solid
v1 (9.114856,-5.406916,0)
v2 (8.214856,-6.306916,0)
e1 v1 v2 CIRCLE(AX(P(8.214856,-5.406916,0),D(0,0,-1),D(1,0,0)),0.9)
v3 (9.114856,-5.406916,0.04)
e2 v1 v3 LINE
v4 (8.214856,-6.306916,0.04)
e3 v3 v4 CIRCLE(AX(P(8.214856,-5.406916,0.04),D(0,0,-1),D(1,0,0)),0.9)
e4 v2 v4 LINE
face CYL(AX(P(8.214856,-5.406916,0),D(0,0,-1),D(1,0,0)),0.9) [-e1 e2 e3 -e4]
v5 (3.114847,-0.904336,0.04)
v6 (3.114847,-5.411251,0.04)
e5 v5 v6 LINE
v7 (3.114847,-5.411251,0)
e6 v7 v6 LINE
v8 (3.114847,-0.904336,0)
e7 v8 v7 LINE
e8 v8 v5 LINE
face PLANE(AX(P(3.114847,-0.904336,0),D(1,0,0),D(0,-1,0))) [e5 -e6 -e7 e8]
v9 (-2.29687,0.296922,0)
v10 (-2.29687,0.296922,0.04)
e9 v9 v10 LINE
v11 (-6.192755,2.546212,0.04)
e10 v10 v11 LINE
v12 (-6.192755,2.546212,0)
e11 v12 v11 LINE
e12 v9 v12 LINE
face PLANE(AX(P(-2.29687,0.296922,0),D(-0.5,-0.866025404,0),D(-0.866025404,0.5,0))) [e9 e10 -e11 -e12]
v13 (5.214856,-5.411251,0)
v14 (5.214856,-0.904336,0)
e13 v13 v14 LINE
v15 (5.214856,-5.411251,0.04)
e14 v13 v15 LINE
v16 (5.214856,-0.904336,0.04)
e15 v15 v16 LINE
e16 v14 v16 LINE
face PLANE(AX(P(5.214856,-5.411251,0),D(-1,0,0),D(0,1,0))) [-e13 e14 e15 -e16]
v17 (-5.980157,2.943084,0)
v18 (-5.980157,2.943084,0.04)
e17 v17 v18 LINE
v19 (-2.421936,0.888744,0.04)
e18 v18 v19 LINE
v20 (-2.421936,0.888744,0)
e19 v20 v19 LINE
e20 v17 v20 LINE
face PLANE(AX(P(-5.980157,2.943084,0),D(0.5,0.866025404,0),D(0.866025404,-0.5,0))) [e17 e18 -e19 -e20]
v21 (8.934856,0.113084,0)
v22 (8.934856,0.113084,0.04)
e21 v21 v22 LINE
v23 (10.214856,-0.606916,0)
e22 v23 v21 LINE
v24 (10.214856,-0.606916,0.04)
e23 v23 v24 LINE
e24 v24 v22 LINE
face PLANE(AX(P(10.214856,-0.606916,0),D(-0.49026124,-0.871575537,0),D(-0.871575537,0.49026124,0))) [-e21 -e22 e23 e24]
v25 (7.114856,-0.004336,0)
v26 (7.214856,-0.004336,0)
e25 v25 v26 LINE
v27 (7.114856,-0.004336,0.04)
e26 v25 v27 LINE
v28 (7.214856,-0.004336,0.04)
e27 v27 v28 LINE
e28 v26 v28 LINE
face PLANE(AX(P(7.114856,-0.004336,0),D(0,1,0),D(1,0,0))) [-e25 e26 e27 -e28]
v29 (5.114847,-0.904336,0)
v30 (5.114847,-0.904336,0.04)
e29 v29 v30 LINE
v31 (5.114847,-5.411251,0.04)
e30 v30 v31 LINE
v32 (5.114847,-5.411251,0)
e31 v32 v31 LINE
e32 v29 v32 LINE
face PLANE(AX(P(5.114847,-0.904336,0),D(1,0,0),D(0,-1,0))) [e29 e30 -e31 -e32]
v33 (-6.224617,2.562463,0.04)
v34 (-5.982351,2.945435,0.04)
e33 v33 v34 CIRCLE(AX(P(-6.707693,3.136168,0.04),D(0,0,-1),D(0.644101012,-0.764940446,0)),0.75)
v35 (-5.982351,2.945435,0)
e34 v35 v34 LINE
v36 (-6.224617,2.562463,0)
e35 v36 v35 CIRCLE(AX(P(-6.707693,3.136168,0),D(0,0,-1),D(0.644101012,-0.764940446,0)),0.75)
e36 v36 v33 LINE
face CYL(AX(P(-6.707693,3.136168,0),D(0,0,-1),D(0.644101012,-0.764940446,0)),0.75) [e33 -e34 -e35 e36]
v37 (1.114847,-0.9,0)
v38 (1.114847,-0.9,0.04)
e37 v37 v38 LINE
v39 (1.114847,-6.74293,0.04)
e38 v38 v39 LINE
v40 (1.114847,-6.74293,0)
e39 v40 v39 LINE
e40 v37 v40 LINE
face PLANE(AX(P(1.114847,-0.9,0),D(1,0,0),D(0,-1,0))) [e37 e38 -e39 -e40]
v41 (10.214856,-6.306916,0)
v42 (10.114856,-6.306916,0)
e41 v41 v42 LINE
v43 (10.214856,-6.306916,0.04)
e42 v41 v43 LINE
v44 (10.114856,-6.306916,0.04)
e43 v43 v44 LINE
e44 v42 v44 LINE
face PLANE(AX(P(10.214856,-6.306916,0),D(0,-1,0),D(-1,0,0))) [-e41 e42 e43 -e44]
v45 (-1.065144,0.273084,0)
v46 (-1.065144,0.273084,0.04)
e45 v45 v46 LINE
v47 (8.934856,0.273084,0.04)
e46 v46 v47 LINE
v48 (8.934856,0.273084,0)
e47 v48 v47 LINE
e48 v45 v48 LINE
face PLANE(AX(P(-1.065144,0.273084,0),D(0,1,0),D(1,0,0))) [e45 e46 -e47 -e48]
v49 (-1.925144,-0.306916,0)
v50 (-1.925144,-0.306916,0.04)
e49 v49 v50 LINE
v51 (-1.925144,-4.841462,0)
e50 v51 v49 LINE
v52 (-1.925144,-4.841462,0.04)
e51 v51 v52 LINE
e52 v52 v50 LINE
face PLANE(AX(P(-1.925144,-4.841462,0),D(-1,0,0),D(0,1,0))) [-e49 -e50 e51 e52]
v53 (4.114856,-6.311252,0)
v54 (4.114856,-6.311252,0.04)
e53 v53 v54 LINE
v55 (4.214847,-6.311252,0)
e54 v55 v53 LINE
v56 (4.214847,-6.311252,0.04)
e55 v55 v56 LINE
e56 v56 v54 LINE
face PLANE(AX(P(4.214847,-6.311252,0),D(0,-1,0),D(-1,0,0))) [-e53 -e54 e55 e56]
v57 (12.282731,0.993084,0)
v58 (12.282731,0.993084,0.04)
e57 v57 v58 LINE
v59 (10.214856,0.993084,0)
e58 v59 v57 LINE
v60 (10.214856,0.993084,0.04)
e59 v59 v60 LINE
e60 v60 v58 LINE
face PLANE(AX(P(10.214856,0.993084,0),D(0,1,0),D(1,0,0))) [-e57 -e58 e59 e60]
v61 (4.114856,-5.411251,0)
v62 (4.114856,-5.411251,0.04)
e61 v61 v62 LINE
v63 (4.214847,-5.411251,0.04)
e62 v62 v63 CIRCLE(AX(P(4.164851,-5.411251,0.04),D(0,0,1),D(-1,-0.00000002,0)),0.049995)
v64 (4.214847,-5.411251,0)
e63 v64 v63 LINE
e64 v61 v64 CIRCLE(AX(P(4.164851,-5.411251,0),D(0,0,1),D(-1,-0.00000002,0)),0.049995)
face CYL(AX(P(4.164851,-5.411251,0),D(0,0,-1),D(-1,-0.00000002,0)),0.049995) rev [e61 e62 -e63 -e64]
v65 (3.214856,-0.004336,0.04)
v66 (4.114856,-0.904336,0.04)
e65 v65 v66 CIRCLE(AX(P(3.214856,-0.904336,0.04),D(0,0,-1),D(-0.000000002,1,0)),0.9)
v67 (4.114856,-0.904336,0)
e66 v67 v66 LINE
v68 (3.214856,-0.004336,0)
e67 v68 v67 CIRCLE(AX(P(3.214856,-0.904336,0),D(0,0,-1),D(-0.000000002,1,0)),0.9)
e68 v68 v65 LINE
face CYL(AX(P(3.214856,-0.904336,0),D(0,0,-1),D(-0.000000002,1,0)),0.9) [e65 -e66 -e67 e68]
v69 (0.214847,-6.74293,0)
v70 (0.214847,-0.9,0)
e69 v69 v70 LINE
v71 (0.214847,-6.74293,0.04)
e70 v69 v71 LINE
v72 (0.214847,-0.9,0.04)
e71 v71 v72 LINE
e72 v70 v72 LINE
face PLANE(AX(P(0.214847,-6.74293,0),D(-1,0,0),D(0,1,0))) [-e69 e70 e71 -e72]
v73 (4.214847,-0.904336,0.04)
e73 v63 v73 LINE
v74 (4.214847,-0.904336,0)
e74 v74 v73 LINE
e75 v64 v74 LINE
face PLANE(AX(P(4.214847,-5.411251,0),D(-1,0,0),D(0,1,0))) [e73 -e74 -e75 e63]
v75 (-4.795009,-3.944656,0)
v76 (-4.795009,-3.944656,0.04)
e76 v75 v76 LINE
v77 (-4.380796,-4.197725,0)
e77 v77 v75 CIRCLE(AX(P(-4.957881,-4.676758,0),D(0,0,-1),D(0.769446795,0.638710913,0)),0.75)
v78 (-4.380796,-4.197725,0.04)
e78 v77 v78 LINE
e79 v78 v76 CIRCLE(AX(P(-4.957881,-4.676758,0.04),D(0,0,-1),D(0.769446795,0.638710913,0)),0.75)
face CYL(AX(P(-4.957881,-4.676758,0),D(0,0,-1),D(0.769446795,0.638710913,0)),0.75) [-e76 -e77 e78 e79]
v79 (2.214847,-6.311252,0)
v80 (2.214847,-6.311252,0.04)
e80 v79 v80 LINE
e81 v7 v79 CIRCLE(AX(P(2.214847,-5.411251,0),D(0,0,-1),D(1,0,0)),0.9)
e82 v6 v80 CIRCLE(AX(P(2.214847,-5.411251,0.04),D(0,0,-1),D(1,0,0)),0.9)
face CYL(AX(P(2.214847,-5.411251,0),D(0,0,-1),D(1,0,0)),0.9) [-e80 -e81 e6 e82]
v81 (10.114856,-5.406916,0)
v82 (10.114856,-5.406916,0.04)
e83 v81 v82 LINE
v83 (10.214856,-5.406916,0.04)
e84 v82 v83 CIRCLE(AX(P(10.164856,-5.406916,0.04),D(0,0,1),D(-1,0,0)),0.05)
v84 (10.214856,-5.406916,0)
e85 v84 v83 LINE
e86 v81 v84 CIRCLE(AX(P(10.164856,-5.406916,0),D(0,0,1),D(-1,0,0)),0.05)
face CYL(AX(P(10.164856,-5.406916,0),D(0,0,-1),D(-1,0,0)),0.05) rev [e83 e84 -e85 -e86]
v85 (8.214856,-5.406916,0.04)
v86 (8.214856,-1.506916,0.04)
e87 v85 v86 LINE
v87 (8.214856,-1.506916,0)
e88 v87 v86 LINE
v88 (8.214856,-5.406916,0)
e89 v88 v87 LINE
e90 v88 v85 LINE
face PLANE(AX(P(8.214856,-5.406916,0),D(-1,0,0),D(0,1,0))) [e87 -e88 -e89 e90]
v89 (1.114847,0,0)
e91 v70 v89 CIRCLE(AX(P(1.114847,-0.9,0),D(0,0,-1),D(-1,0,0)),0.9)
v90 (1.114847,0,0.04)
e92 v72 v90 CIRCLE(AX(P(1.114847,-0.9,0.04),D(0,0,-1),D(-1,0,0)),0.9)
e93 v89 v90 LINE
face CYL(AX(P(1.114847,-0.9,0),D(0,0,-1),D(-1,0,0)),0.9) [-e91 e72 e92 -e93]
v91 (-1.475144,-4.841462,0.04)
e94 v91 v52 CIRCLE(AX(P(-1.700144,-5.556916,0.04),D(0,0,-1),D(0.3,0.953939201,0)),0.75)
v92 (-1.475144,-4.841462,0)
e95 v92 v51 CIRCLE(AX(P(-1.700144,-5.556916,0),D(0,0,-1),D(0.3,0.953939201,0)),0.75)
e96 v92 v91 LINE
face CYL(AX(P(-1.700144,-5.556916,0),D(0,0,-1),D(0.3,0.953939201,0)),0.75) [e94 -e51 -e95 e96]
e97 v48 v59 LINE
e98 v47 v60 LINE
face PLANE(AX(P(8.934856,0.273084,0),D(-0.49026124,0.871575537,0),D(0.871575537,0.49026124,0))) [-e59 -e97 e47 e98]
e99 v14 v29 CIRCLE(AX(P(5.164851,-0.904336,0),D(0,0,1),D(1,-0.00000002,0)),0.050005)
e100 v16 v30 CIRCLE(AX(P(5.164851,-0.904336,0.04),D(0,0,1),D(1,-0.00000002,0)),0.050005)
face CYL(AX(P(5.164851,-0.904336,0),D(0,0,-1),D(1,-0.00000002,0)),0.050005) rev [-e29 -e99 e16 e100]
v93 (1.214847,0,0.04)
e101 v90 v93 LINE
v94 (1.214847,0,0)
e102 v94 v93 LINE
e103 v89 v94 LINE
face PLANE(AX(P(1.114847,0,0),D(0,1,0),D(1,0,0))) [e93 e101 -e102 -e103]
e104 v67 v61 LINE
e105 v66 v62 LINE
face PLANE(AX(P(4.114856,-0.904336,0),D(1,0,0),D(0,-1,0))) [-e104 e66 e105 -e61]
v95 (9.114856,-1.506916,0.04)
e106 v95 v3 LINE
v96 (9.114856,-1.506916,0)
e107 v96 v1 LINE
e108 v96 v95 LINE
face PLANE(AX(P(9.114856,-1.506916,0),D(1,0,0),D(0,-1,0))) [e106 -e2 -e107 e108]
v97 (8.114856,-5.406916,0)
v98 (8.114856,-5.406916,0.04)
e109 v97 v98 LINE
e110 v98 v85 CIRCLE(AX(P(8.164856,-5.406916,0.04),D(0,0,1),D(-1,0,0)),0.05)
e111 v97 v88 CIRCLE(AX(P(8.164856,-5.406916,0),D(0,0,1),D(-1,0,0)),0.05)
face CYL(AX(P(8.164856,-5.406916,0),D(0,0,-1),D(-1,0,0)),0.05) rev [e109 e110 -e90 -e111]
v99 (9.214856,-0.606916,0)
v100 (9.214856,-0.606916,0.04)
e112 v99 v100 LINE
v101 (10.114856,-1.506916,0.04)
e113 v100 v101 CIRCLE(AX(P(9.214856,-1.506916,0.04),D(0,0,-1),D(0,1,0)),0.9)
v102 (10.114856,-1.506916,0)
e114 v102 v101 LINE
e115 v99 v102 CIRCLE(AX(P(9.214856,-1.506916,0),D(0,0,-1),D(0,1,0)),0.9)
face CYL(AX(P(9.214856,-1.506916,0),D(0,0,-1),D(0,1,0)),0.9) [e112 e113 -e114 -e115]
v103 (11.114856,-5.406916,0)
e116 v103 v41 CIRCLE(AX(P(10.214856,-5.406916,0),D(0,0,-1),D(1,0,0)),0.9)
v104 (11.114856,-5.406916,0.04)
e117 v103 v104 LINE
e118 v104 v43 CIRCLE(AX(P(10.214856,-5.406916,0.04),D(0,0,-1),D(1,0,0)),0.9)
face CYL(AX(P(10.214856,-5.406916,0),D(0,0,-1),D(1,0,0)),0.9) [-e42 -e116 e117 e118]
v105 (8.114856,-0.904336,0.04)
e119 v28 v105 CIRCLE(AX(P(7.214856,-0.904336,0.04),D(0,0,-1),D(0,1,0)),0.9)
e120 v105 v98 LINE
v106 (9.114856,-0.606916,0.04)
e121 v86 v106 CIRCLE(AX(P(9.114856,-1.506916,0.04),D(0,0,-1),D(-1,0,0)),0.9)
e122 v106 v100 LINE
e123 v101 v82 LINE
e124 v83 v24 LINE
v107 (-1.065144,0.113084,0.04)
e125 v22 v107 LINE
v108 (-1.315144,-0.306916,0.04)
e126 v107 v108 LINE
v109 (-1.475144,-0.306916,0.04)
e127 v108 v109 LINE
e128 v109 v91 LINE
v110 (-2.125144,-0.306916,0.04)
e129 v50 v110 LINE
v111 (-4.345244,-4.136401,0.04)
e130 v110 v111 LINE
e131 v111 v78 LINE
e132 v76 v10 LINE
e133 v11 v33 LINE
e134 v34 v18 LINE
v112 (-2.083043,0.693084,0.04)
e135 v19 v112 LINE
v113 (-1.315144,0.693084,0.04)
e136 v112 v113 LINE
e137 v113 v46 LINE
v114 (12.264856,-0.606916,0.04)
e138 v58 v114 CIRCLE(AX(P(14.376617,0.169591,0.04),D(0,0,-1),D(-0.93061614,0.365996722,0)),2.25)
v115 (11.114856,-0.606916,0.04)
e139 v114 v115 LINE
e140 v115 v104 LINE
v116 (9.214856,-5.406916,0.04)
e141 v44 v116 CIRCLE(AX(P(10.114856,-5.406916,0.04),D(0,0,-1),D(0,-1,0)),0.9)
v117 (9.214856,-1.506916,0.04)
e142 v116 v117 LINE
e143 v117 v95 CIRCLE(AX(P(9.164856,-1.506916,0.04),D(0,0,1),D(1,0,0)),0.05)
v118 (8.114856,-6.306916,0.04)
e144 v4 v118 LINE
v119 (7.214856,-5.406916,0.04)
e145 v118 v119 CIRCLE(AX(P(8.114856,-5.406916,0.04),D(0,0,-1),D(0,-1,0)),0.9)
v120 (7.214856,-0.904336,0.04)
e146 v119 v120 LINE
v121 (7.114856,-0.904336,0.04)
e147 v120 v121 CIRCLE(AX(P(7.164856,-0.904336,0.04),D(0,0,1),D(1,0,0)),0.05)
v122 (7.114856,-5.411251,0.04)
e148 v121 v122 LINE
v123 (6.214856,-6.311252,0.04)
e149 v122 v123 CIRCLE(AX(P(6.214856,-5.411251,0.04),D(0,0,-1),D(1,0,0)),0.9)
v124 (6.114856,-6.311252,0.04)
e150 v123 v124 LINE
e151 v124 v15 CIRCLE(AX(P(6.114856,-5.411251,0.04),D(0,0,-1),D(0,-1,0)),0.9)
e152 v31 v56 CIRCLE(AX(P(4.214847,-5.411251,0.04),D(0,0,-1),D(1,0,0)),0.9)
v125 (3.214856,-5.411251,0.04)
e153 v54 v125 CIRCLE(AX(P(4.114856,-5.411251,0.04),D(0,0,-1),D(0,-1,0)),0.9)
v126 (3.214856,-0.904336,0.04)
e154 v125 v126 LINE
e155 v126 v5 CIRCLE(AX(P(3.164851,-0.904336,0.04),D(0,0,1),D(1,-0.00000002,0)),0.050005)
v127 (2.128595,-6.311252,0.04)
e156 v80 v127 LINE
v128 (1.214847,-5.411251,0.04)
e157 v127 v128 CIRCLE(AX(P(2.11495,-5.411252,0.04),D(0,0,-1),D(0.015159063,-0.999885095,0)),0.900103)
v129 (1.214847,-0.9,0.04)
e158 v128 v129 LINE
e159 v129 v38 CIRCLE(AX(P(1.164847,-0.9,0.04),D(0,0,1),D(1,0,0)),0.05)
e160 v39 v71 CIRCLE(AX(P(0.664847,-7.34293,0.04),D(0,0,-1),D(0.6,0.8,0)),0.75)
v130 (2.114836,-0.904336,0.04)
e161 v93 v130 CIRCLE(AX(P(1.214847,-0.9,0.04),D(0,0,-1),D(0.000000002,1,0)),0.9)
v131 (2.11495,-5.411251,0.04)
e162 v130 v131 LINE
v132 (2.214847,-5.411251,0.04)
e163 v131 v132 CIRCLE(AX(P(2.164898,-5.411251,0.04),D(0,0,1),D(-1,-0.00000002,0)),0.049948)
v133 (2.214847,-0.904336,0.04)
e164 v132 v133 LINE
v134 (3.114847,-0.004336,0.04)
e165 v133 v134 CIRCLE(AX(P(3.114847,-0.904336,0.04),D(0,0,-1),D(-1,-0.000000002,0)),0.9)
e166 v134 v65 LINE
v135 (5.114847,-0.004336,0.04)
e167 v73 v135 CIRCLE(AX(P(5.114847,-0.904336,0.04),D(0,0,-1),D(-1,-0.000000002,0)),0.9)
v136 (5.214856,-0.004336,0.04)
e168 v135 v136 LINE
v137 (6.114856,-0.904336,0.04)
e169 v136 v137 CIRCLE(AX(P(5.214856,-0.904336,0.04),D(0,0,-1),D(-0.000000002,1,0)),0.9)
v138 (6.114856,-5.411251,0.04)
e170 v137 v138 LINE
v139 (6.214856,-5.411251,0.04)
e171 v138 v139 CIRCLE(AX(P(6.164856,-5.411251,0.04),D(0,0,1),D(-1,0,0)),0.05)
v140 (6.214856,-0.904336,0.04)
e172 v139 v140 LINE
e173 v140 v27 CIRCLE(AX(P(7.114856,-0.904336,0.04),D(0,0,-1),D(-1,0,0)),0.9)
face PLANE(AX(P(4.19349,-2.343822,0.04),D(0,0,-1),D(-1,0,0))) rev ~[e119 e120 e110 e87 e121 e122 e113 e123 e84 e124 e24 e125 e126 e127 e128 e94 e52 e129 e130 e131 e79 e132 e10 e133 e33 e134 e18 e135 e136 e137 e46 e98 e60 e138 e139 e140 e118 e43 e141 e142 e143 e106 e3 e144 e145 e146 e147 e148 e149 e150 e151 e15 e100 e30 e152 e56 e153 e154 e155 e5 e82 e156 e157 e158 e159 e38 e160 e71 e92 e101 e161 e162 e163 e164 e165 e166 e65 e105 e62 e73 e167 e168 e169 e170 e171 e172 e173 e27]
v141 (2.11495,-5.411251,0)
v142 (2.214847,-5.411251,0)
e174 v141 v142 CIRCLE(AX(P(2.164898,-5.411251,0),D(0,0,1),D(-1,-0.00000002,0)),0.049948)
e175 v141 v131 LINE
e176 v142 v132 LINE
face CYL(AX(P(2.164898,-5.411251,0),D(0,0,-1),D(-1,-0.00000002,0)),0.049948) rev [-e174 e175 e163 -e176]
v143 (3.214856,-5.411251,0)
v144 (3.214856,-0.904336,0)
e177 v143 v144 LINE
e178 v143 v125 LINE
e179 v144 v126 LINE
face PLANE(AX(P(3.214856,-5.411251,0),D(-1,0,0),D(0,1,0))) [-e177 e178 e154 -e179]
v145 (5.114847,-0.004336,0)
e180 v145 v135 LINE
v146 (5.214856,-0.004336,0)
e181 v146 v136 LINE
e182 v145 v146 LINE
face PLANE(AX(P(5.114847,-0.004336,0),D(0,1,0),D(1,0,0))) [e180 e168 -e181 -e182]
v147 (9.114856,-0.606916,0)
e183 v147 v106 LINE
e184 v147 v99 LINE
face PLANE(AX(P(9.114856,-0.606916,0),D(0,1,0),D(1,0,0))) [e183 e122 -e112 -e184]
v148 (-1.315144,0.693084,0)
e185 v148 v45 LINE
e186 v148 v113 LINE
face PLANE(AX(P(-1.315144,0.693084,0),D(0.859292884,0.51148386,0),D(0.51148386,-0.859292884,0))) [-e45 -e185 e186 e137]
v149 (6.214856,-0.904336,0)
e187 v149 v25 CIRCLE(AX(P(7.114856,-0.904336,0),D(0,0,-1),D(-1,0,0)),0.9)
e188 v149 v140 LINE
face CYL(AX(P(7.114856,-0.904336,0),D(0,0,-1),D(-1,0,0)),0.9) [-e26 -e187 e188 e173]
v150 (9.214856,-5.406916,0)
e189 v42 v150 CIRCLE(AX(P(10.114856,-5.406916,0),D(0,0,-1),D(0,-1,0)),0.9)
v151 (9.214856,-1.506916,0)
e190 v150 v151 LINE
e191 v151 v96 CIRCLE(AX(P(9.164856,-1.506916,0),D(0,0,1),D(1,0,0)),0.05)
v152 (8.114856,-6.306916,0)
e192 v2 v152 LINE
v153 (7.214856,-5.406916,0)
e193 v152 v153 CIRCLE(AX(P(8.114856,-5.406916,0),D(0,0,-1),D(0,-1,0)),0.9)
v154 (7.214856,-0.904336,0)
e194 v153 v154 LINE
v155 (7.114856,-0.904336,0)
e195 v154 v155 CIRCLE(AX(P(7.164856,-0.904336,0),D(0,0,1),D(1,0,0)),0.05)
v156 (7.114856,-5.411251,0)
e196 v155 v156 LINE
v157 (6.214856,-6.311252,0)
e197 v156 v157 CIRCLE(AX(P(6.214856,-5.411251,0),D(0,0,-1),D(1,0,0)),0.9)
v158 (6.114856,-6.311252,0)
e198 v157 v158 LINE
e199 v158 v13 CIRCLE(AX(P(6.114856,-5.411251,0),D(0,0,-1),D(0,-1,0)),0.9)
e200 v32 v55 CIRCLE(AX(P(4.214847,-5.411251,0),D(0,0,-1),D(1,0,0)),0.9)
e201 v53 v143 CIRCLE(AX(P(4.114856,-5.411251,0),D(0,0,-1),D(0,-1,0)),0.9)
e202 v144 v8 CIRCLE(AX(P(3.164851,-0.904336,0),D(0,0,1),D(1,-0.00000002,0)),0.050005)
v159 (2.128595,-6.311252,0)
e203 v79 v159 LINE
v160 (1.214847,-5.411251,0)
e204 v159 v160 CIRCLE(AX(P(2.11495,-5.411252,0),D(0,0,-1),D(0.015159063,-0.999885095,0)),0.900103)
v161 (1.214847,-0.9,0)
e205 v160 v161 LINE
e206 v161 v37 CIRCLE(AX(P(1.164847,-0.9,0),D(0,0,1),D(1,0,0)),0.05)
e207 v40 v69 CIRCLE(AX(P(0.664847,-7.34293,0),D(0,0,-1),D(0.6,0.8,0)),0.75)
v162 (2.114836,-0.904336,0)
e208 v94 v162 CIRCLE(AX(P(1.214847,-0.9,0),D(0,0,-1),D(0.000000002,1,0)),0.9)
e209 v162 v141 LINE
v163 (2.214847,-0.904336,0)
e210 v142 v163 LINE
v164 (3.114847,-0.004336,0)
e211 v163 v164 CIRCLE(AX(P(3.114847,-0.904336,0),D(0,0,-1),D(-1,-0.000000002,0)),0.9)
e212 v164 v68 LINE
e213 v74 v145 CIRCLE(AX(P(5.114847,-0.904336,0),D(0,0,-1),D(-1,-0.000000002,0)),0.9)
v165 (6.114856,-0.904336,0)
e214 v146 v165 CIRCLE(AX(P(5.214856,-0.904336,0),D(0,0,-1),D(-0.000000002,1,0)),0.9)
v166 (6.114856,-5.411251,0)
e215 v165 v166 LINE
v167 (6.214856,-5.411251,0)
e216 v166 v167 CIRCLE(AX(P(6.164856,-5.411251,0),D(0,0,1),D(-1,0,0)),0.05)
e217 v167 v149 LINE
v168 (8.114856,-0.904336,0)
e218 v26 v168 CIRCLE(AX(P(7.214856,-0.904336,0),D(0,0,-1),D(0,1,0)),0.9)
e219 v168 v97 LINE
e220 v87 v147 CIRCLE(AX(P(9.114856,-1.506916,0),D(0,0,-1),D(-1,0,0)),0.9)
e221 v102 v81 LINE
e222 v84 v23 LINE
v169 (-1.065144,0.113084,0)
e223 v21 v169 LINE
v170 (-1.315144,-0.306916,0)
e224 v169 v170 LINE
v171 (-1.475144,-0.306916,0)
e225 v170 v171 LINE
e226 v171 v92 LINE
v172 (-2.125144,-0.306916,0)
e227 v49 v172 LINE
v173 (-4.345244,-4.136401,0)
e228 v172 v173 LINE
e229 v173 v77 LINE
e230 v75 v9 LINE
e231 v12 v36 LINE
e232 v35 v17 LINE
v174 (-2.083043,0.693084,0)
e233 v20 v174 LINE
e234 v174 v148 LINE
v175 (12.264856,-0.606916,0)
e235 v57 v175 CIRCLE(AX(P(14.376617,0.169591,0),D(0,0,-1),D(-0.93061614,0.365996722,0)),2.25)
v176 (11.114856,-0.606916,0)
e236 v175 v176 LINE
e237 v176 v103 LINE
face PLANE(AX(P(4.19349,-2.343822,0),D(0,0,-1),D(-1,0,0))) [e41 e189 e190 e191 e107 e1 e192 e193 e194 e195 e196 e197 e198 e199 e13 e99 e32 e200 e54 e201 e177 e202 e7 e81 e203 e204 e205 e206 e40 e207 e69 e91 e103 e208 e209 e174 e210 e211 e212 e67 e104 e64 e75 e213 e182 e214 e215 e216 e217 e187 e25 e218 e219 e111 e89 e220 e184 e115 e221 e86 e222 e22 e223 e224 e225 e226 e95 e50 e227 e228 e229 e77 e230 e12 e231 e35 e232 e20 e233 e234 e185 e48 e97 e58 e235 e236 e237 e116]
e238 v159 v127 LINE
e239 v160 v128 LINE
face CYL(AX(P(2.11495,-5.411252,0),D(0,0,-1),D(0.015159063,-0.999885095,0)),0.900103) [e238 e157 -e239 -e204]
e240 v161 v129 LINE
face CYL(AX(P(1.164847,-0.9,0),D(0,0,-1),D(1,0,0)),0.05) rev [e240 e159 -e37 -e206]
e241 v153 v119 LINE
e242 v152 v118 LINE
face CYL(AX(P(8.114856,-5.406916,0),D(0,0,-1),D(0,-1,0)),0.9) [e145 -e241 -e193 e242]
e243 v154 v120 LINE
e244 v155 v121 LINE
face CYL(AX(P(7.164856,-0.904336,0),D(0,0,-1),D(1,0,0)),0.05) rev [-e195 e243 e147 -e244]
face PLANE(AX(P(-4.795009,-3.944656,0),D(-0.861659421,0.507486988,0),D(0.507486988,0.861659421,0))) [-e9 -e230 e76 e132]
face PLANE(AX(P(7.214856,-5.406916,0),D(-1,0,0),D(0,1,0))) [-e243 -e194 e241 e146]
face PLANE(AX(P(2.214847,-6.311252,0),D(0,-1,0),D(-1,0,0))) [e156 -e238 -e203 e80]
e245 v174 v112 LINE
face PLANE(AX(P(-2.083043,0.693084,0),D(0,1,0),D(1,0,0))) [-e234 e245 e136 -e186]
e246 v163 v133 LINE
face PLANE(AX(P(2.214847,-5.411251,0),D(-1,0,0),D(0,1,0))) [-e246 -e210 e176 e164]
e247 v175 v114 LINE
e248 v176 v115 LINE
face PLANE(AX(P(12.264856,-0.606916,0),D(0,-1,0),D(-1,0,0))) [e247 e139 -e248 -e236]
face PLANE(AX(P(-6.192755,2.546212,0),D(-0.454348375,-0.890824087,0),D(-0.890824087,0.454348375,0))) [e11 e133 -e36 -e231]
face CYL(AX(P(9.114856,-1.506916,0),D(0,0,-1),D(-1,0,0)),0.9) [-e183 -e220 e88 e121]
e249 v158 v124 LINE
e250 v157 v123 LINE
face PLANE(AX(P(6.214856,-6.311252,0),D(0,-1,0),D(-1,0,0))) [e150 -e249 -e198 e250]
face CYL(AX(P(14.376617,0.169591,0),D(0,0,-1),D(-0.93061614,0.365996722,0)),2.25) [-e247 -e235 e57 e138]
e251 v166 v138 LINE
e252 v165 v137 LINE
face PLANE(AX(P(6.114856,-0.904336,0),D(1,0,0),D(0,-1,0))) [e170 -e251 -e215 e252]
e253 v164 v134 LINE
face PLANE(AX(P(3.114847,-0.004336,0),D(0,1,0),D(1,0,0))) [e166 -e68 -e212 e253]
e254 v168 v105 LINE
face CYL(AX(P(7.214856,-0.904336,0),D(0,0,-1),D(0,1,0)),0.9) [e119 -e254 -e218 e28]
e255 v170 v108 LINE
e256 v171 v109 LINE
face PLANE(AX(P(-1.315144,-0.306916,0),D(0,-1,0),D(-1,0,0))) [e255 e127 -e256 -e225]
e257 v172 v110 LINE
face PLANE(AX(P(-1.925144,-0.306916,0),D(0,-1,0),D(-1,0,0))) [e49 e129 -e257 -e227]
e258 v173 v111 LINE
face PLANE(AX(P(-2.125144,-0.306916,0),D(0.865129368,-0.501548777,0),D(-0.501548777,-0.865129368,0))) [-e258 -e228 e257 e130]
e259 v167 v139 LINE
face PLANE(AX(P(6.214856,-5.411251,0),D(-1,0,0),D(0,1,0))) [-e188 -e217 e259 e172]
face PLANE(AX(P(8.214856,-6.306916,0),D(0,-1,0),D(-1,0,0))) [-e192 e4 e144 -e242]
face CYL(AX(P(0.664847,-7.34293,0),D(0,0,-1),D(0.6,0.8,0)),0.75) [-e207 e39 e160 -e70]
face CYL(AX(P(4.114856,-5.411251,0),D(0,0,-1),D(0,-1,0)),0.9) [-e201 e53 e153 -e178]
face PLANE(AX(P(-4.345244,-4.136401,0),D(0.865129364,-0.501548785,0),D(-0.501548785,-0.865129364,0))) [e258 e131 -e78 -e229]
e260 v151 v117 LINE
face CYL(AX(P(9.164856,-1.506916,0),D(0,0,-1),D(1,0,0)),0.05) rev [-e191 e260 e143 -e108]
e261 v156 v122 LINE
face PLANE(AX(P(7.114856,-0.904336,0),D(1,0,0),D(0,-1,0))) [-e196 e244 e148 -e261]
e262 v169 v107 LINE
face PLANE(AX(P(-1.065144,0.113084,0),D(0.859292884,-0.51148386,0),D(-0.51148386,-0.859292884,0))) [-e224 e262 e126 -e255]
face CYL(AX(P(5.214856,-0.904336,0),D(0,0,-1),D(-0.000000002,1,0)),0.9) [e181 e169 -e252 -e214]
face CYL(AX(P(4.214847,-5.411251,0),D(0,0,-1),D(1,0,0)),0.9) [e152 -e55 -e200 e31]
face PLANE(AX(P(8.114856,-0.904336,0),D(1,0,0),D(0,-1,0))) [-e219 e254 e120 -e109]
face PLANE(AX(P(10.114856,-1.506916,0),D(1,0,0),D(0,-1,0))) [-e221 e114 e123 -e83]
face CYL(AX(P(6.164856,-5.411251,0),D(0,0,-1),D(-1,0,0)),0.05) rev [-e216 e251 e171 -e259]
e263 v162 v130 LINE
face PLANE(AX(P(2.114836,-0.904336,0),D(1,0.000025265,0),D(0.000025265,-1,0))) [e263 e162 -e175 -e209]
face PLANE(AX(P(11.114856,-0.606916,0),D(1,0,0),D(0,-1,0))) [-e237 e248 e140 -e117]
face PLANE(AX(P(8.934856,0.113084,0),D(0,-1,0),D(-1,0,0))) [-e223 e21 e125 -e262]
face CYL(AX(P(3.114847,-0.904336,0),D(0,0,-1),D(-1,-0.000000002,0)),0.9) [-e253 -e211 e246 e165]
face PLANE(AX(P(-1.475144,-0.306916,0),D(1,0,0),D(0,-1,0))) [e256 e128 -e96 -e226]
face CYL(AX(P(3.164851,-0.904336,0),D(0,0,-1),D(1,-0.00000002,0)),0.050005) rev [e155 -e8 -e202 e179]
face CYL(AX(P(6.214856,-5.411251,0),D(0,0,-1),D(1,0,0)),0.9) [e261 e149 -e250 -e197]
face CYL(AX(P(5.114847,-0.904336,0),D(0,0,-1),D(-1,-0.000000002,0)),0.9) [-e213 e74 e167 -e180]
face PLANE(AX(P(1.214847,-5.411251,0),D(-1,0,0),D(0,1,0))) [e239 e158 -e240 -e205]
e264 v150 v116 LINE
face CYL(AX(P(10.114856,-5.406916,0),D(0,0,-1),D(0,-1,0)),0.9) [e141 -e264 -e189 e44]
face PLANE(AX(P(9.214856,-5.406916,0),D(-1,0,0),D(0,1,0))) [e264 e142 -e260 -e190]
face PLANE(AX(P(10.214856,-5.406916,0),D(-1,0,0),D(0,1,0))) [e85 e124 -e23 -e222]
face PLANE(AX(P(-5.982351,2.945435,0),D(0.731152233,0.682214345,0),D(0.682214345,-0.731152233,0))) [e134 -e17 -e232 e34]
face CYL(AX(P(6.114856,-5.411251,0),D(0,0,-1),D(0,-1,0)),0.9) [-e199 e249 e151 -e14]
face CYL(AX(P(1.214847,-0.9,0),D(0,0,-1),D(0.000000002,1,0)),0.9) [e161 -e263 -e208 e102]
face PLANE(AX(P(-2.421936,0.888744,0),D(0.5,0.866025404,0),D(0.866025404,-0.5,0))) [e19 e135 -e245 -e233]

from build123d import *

# Parameters (mm, degrees)
BOSS_EXTRUDE1_DEPTH = 0.04


with BuildPart() as part:
    # Sketch1 → Boss-Extrude1 (new body)
    with BuildSketch(Plane.XY):
        with BuildLine():
            Line((-1.315144017, 0.693084069), (-1.065144017, 0.273084069))
            Line((-1.065144017, 0.273084069), (8.934855983, 0.273084069))
            Line((8.934855983, 0.273084069), (10.214855983, 0.993084069))
            Line((10.214855983, 0.993084069), (10.514506575, 0.993084069))
            Line((10.514506575, 0.993084069), (10.935378928, 0.993084069))
            Line((10.935378928, 0.993084069), (12.282731088, 0.993084069))
            ThreePointArc((12.282731088, 0.993084069), (16.626477002, 0.144456147), (12.264855983, -0.606915931))
            Line((12.264855983, -0.606915931), (11.114855983, -0.606915931))
            Line((11.114855983, -0.606915931), (11.114855983, -5.406915931))
            ThreePointArc((11.114855983, -5.406915931), (10.851252086, -6.043312034), (10.214855983, -6.306915931))
            Line((10.214855983, -6.306915931), (10.114855983, -6.306915931))
            ThreePointArc((10.114855983, -6.306915931), (9.47845988, -6.043312034), (9.214855983, -5.406915931))
            Line((9.214855983, -5.406915931), (9.214855983, -1.506915931))
            ThreePointArc((9.214855983, -1.506915931), (9.164855983, -1.456915931), (9.114855983, -1.506915931))
            Line((9.114855983, -1.506915931), (9.114855983, -5.406915931))
            ThreePointArc((9.114855983, -5.406915931), (8.851252086, -6.043312034), (8.214855983, -6.306915931))
            Line((8.214855983, -6.306915931), (8.114855983, -6.306915931))
            ThreePointArc((8.114855983, -6.306915931), (7.47845988, -6.043312034), (7.214855983, -5.406915931))
            Line((7.214855983, -5.406915931), (7.214855983, -0.904335528))
            ThreePointArc((7.214855983, -0.904335528), (7.164855983, -0.854335528), (7.114855983, -0.904335528))
            Line((7.114855983, -0.904335528), (7.114855983, -5.4112515))
            ThreePointArc((7.114855983, -5.4112515), (6.851252086, -6.047647603), (6.214855983, -6.3112515))
            Line((6.214855983, -6.3112515), (6.114855983, -6.3112515))
            ThreePointArc((6.114855983, -6.3112515), (5.47845988, -6.047647603), (5.214855983, -5.4112515))
            Line((5.214855983, -5.4112515), (5.214855983, -0.90433553))
            ThreePointArc((5.214855983, -0.90433553), (5.164851284, -0.85433083), (5.114846585, -0.90433553))
            Line((5.114846585, -0.90433553), (5.114846585, -5.4112515))
            ThreePointArc((5.114846585, -5.4112515), (4.851242688, -6.047647603), (4.214846585, -6.3112515))
            Line((4.214846585, -6.3112515), (4.114855983, -6.3112515))
            ThreePointArc((4.114855983, -6.3112515), (3.47845988, -6.047647603), (3.214855983, -5.4112515))
            Line((3.214855983, -5.4112515), (3.214855983, -0.90433553))
            ThreePointArc((3.214855983, -0.90433553), (3.164851284, -0.85433083), (3.114846585, -0.90433553))
            Line((3.114846585, -0.90433553), (3.114846585, -5.4112515))
            ThreePointArc((3.114846585, -5.4112515), (2.851242688, -6.047647603), (2.214846585, -6.3112515))
            Line((2.214846585, -6.3112515), (2.128594735, -6.3112515))
            ThreePointArc((2.128594735, -6.3112515), (1.483323335, -6.05252673), (1.214846585, -5.4112515))
            Line((1.214846585, -5.4112515), (1.214846585, -0.9))
            ThreePointArc((1.214846585, -0.9), (1.164846585, -0.85), (1.114846585, -0.9))
            Line((1.114846585, -0.9), (1.114846585, -6.592929893))
            Line((1.114846585, -6.592929893), (1.114846585, -6.742929893))
            ThreePointArc((1.114846585, -6.742929893), (0.664846585, -8.092929893), (0.214846585, -6.742929893))
            Line((0.214846585, -6.742929893), (0.214846585, -6.592929893))
            Line((0.214846585, -6.592929893), (0.214846585, -0.9))
            ThreePointArc((0.214846585, -0.9), (0.478450482, -0.263603897), (1.114846585, 0))
            Line((1.114846585, 0), (1.214846585, 0))
            ThreePointArc((1.214846585, 0), (1.852773687, -0.265138589), (2.114836142, -0.90433553))
            Line((2.114836142, -0.90433553), (2.114950011, -5.4112515))
            ThreePointArc((2.114950011, -5.4112515), (2.164898298, -5.461199786), (2.214846585, -5.4112515))
            Line((2.214846585, -5.4112515), (2.214846585, -0.90433553))
            ThreePointArc((2.214846585, -0.90433553), (2.478450482, -0.267939426), (3.114846585, -0.00433553))
            Line((3.114846585, -0.00433553), (3.214855983, -0.00433553))
            ThreePointArc((3.214855983, -0.00433553), (3.851252086, -0.267939426), (4.114855983, -0.90433553))
            Line((4.114855983, -0.90433553), (4.114855983, -5.4112515))
            ThreePointArc((4.114855983, -5.4112515), (4.164851284, -5.4612468), (4.214846585, -5.4112515))
            Line((4.214846585, -5.4112515), (4.214846585, -0.90433553))
            ThreePointArc((4.214846585, -0.90433553), (4.478450482, -0.267939426), (5.114846585, -0.00433553))
            Line((5.114846585, -0.00433553), (5.214855983, -0.00433553))
            ThreePointArc((5.214855983, -0.00433553), (5.851252086, -0.267939426), (6.114855983, -0.90433553))
            Line((6.114855983, -0.90433553), (6.114855983, -5.4112515))
            ThreePointArc((6.114855983, -5.4112515), (6.164855983, -5.4612515), (6.214855983, -5.4112515))
            Line((6.214855983, -5.4112515), (6.214855983, -0.904335528))
            ThreePointArc((6.214855983, -0.904335528), (6.47845988, -0.267939425), (7.114855983, -0.004335528))
            Line((7.114855983, -0.004335528), (7.214855983, -0.004335528))
            ThreePointArc((7.214855983, -0.004335528), (7.851252086, -0.267939425), (8.114855983, -0.904335528))
            Line((8.114855983, -0.904335528), (8.114855983, -5.406915931))
            ThreePointArc((8.114855983, -5.406915931), (8.164855983, -5.456915931), (8.214855983, -5.406915931))
            Line((8.214855983, -5.406915931), (8.214855983, -1.506915931))
            ThreePointArc((8.214855983, -1.506915931), (8.47845988, -0.870519828), (9.114855983, -0.606915931))
            Line((9.114855983, -0.606915931), (9.214855983, -0.606915931))
            ThreePointArc((9.214855983, -0.606915931), (9.851252086, -0.870519828), (10.114855983, -1.506915931))
            Line((10.114855983, -1.506915931), (10.114855983, -5.406915931))
            ThreePointArc((10.114855983, -5.406915931), (10.164855983, -5.456915931), (10.214855983, -5.406915931))
            Line((10.214855983, -5.406915931), (10.214855983, -0.606915931))
            Line((10.214855983, -0.606915931), (8.934855983, 0.113084069))
            Line((8.934855983, 0.113084069), (-1.065144017, 0.113084069))
            Line((-1.065144017, 0.113084069), (-1.315144017, -0.306915931))
            Line((-1.315144017, -0.306915931), (-1.475144017, -0.306915931))
            Line((-1.475144017, -0.306915931), (-1.475144017, -4.82261796))
            Line((-1.475144017, -4.82261796), (-1.475144017, -4.84146153))
            ThreePointArc((-1.475144017, -4.84146153), (-1.700144017, -6.306915931), (-1.925144017, -4.84146153))
            Line((-1.925144017, -4.84146153), (-1.925144017, -4.806915931))
            Line((-1.925144017, -4.806915931), (-1.925144017, -0.306915931))
            Line((-1.925144017, -0.306915931), (-2.125144017, -0.306915931))
            Line((-2.125144017, -0.306915931), (-4.345243658, -4.136400695))
            Line((-4.345243658, -4.136400695), (-4.380795568, -4.197724742))
            ThreePointArc((-4.380795568, -4.197724742), (-5.348898376, -5.316761949), (-4.795009179, -3.94465624))
            Line((-4.795009179, -3.94465624), (-2.296869562, 0.296921546))
            Line((-2.296869562, 0.296921546), (-6.192755194, 2.546212165))
            Line((-6.192755194, 2.546212165), (-6.224617122, 2.562462753))
            ThreePointArc((-6.224617122, 2.562462753), (-7.341518741, 3.537122923), (-5.982350992, 2.945434913))
            Line((-5.982350992, 2.945434913), (-5.980157496, 2.943084069))
            Line((-5.980157496, 2.943084069), (-2.421936306, 0.888744107))
            Line((-2.421936306, 0.888744107), (-2.083043179, 0.693084069))
            Line((-2.083043179, 0.693084069), (-1.625493347, 0.693084069))
            Line((-1.625493347, 0.693084069), (-1.315144017, 0.693084069))
        make_face()
    extrude(amount=BOSS_EXTRUDE1_DEPTH)


solid = part.part
